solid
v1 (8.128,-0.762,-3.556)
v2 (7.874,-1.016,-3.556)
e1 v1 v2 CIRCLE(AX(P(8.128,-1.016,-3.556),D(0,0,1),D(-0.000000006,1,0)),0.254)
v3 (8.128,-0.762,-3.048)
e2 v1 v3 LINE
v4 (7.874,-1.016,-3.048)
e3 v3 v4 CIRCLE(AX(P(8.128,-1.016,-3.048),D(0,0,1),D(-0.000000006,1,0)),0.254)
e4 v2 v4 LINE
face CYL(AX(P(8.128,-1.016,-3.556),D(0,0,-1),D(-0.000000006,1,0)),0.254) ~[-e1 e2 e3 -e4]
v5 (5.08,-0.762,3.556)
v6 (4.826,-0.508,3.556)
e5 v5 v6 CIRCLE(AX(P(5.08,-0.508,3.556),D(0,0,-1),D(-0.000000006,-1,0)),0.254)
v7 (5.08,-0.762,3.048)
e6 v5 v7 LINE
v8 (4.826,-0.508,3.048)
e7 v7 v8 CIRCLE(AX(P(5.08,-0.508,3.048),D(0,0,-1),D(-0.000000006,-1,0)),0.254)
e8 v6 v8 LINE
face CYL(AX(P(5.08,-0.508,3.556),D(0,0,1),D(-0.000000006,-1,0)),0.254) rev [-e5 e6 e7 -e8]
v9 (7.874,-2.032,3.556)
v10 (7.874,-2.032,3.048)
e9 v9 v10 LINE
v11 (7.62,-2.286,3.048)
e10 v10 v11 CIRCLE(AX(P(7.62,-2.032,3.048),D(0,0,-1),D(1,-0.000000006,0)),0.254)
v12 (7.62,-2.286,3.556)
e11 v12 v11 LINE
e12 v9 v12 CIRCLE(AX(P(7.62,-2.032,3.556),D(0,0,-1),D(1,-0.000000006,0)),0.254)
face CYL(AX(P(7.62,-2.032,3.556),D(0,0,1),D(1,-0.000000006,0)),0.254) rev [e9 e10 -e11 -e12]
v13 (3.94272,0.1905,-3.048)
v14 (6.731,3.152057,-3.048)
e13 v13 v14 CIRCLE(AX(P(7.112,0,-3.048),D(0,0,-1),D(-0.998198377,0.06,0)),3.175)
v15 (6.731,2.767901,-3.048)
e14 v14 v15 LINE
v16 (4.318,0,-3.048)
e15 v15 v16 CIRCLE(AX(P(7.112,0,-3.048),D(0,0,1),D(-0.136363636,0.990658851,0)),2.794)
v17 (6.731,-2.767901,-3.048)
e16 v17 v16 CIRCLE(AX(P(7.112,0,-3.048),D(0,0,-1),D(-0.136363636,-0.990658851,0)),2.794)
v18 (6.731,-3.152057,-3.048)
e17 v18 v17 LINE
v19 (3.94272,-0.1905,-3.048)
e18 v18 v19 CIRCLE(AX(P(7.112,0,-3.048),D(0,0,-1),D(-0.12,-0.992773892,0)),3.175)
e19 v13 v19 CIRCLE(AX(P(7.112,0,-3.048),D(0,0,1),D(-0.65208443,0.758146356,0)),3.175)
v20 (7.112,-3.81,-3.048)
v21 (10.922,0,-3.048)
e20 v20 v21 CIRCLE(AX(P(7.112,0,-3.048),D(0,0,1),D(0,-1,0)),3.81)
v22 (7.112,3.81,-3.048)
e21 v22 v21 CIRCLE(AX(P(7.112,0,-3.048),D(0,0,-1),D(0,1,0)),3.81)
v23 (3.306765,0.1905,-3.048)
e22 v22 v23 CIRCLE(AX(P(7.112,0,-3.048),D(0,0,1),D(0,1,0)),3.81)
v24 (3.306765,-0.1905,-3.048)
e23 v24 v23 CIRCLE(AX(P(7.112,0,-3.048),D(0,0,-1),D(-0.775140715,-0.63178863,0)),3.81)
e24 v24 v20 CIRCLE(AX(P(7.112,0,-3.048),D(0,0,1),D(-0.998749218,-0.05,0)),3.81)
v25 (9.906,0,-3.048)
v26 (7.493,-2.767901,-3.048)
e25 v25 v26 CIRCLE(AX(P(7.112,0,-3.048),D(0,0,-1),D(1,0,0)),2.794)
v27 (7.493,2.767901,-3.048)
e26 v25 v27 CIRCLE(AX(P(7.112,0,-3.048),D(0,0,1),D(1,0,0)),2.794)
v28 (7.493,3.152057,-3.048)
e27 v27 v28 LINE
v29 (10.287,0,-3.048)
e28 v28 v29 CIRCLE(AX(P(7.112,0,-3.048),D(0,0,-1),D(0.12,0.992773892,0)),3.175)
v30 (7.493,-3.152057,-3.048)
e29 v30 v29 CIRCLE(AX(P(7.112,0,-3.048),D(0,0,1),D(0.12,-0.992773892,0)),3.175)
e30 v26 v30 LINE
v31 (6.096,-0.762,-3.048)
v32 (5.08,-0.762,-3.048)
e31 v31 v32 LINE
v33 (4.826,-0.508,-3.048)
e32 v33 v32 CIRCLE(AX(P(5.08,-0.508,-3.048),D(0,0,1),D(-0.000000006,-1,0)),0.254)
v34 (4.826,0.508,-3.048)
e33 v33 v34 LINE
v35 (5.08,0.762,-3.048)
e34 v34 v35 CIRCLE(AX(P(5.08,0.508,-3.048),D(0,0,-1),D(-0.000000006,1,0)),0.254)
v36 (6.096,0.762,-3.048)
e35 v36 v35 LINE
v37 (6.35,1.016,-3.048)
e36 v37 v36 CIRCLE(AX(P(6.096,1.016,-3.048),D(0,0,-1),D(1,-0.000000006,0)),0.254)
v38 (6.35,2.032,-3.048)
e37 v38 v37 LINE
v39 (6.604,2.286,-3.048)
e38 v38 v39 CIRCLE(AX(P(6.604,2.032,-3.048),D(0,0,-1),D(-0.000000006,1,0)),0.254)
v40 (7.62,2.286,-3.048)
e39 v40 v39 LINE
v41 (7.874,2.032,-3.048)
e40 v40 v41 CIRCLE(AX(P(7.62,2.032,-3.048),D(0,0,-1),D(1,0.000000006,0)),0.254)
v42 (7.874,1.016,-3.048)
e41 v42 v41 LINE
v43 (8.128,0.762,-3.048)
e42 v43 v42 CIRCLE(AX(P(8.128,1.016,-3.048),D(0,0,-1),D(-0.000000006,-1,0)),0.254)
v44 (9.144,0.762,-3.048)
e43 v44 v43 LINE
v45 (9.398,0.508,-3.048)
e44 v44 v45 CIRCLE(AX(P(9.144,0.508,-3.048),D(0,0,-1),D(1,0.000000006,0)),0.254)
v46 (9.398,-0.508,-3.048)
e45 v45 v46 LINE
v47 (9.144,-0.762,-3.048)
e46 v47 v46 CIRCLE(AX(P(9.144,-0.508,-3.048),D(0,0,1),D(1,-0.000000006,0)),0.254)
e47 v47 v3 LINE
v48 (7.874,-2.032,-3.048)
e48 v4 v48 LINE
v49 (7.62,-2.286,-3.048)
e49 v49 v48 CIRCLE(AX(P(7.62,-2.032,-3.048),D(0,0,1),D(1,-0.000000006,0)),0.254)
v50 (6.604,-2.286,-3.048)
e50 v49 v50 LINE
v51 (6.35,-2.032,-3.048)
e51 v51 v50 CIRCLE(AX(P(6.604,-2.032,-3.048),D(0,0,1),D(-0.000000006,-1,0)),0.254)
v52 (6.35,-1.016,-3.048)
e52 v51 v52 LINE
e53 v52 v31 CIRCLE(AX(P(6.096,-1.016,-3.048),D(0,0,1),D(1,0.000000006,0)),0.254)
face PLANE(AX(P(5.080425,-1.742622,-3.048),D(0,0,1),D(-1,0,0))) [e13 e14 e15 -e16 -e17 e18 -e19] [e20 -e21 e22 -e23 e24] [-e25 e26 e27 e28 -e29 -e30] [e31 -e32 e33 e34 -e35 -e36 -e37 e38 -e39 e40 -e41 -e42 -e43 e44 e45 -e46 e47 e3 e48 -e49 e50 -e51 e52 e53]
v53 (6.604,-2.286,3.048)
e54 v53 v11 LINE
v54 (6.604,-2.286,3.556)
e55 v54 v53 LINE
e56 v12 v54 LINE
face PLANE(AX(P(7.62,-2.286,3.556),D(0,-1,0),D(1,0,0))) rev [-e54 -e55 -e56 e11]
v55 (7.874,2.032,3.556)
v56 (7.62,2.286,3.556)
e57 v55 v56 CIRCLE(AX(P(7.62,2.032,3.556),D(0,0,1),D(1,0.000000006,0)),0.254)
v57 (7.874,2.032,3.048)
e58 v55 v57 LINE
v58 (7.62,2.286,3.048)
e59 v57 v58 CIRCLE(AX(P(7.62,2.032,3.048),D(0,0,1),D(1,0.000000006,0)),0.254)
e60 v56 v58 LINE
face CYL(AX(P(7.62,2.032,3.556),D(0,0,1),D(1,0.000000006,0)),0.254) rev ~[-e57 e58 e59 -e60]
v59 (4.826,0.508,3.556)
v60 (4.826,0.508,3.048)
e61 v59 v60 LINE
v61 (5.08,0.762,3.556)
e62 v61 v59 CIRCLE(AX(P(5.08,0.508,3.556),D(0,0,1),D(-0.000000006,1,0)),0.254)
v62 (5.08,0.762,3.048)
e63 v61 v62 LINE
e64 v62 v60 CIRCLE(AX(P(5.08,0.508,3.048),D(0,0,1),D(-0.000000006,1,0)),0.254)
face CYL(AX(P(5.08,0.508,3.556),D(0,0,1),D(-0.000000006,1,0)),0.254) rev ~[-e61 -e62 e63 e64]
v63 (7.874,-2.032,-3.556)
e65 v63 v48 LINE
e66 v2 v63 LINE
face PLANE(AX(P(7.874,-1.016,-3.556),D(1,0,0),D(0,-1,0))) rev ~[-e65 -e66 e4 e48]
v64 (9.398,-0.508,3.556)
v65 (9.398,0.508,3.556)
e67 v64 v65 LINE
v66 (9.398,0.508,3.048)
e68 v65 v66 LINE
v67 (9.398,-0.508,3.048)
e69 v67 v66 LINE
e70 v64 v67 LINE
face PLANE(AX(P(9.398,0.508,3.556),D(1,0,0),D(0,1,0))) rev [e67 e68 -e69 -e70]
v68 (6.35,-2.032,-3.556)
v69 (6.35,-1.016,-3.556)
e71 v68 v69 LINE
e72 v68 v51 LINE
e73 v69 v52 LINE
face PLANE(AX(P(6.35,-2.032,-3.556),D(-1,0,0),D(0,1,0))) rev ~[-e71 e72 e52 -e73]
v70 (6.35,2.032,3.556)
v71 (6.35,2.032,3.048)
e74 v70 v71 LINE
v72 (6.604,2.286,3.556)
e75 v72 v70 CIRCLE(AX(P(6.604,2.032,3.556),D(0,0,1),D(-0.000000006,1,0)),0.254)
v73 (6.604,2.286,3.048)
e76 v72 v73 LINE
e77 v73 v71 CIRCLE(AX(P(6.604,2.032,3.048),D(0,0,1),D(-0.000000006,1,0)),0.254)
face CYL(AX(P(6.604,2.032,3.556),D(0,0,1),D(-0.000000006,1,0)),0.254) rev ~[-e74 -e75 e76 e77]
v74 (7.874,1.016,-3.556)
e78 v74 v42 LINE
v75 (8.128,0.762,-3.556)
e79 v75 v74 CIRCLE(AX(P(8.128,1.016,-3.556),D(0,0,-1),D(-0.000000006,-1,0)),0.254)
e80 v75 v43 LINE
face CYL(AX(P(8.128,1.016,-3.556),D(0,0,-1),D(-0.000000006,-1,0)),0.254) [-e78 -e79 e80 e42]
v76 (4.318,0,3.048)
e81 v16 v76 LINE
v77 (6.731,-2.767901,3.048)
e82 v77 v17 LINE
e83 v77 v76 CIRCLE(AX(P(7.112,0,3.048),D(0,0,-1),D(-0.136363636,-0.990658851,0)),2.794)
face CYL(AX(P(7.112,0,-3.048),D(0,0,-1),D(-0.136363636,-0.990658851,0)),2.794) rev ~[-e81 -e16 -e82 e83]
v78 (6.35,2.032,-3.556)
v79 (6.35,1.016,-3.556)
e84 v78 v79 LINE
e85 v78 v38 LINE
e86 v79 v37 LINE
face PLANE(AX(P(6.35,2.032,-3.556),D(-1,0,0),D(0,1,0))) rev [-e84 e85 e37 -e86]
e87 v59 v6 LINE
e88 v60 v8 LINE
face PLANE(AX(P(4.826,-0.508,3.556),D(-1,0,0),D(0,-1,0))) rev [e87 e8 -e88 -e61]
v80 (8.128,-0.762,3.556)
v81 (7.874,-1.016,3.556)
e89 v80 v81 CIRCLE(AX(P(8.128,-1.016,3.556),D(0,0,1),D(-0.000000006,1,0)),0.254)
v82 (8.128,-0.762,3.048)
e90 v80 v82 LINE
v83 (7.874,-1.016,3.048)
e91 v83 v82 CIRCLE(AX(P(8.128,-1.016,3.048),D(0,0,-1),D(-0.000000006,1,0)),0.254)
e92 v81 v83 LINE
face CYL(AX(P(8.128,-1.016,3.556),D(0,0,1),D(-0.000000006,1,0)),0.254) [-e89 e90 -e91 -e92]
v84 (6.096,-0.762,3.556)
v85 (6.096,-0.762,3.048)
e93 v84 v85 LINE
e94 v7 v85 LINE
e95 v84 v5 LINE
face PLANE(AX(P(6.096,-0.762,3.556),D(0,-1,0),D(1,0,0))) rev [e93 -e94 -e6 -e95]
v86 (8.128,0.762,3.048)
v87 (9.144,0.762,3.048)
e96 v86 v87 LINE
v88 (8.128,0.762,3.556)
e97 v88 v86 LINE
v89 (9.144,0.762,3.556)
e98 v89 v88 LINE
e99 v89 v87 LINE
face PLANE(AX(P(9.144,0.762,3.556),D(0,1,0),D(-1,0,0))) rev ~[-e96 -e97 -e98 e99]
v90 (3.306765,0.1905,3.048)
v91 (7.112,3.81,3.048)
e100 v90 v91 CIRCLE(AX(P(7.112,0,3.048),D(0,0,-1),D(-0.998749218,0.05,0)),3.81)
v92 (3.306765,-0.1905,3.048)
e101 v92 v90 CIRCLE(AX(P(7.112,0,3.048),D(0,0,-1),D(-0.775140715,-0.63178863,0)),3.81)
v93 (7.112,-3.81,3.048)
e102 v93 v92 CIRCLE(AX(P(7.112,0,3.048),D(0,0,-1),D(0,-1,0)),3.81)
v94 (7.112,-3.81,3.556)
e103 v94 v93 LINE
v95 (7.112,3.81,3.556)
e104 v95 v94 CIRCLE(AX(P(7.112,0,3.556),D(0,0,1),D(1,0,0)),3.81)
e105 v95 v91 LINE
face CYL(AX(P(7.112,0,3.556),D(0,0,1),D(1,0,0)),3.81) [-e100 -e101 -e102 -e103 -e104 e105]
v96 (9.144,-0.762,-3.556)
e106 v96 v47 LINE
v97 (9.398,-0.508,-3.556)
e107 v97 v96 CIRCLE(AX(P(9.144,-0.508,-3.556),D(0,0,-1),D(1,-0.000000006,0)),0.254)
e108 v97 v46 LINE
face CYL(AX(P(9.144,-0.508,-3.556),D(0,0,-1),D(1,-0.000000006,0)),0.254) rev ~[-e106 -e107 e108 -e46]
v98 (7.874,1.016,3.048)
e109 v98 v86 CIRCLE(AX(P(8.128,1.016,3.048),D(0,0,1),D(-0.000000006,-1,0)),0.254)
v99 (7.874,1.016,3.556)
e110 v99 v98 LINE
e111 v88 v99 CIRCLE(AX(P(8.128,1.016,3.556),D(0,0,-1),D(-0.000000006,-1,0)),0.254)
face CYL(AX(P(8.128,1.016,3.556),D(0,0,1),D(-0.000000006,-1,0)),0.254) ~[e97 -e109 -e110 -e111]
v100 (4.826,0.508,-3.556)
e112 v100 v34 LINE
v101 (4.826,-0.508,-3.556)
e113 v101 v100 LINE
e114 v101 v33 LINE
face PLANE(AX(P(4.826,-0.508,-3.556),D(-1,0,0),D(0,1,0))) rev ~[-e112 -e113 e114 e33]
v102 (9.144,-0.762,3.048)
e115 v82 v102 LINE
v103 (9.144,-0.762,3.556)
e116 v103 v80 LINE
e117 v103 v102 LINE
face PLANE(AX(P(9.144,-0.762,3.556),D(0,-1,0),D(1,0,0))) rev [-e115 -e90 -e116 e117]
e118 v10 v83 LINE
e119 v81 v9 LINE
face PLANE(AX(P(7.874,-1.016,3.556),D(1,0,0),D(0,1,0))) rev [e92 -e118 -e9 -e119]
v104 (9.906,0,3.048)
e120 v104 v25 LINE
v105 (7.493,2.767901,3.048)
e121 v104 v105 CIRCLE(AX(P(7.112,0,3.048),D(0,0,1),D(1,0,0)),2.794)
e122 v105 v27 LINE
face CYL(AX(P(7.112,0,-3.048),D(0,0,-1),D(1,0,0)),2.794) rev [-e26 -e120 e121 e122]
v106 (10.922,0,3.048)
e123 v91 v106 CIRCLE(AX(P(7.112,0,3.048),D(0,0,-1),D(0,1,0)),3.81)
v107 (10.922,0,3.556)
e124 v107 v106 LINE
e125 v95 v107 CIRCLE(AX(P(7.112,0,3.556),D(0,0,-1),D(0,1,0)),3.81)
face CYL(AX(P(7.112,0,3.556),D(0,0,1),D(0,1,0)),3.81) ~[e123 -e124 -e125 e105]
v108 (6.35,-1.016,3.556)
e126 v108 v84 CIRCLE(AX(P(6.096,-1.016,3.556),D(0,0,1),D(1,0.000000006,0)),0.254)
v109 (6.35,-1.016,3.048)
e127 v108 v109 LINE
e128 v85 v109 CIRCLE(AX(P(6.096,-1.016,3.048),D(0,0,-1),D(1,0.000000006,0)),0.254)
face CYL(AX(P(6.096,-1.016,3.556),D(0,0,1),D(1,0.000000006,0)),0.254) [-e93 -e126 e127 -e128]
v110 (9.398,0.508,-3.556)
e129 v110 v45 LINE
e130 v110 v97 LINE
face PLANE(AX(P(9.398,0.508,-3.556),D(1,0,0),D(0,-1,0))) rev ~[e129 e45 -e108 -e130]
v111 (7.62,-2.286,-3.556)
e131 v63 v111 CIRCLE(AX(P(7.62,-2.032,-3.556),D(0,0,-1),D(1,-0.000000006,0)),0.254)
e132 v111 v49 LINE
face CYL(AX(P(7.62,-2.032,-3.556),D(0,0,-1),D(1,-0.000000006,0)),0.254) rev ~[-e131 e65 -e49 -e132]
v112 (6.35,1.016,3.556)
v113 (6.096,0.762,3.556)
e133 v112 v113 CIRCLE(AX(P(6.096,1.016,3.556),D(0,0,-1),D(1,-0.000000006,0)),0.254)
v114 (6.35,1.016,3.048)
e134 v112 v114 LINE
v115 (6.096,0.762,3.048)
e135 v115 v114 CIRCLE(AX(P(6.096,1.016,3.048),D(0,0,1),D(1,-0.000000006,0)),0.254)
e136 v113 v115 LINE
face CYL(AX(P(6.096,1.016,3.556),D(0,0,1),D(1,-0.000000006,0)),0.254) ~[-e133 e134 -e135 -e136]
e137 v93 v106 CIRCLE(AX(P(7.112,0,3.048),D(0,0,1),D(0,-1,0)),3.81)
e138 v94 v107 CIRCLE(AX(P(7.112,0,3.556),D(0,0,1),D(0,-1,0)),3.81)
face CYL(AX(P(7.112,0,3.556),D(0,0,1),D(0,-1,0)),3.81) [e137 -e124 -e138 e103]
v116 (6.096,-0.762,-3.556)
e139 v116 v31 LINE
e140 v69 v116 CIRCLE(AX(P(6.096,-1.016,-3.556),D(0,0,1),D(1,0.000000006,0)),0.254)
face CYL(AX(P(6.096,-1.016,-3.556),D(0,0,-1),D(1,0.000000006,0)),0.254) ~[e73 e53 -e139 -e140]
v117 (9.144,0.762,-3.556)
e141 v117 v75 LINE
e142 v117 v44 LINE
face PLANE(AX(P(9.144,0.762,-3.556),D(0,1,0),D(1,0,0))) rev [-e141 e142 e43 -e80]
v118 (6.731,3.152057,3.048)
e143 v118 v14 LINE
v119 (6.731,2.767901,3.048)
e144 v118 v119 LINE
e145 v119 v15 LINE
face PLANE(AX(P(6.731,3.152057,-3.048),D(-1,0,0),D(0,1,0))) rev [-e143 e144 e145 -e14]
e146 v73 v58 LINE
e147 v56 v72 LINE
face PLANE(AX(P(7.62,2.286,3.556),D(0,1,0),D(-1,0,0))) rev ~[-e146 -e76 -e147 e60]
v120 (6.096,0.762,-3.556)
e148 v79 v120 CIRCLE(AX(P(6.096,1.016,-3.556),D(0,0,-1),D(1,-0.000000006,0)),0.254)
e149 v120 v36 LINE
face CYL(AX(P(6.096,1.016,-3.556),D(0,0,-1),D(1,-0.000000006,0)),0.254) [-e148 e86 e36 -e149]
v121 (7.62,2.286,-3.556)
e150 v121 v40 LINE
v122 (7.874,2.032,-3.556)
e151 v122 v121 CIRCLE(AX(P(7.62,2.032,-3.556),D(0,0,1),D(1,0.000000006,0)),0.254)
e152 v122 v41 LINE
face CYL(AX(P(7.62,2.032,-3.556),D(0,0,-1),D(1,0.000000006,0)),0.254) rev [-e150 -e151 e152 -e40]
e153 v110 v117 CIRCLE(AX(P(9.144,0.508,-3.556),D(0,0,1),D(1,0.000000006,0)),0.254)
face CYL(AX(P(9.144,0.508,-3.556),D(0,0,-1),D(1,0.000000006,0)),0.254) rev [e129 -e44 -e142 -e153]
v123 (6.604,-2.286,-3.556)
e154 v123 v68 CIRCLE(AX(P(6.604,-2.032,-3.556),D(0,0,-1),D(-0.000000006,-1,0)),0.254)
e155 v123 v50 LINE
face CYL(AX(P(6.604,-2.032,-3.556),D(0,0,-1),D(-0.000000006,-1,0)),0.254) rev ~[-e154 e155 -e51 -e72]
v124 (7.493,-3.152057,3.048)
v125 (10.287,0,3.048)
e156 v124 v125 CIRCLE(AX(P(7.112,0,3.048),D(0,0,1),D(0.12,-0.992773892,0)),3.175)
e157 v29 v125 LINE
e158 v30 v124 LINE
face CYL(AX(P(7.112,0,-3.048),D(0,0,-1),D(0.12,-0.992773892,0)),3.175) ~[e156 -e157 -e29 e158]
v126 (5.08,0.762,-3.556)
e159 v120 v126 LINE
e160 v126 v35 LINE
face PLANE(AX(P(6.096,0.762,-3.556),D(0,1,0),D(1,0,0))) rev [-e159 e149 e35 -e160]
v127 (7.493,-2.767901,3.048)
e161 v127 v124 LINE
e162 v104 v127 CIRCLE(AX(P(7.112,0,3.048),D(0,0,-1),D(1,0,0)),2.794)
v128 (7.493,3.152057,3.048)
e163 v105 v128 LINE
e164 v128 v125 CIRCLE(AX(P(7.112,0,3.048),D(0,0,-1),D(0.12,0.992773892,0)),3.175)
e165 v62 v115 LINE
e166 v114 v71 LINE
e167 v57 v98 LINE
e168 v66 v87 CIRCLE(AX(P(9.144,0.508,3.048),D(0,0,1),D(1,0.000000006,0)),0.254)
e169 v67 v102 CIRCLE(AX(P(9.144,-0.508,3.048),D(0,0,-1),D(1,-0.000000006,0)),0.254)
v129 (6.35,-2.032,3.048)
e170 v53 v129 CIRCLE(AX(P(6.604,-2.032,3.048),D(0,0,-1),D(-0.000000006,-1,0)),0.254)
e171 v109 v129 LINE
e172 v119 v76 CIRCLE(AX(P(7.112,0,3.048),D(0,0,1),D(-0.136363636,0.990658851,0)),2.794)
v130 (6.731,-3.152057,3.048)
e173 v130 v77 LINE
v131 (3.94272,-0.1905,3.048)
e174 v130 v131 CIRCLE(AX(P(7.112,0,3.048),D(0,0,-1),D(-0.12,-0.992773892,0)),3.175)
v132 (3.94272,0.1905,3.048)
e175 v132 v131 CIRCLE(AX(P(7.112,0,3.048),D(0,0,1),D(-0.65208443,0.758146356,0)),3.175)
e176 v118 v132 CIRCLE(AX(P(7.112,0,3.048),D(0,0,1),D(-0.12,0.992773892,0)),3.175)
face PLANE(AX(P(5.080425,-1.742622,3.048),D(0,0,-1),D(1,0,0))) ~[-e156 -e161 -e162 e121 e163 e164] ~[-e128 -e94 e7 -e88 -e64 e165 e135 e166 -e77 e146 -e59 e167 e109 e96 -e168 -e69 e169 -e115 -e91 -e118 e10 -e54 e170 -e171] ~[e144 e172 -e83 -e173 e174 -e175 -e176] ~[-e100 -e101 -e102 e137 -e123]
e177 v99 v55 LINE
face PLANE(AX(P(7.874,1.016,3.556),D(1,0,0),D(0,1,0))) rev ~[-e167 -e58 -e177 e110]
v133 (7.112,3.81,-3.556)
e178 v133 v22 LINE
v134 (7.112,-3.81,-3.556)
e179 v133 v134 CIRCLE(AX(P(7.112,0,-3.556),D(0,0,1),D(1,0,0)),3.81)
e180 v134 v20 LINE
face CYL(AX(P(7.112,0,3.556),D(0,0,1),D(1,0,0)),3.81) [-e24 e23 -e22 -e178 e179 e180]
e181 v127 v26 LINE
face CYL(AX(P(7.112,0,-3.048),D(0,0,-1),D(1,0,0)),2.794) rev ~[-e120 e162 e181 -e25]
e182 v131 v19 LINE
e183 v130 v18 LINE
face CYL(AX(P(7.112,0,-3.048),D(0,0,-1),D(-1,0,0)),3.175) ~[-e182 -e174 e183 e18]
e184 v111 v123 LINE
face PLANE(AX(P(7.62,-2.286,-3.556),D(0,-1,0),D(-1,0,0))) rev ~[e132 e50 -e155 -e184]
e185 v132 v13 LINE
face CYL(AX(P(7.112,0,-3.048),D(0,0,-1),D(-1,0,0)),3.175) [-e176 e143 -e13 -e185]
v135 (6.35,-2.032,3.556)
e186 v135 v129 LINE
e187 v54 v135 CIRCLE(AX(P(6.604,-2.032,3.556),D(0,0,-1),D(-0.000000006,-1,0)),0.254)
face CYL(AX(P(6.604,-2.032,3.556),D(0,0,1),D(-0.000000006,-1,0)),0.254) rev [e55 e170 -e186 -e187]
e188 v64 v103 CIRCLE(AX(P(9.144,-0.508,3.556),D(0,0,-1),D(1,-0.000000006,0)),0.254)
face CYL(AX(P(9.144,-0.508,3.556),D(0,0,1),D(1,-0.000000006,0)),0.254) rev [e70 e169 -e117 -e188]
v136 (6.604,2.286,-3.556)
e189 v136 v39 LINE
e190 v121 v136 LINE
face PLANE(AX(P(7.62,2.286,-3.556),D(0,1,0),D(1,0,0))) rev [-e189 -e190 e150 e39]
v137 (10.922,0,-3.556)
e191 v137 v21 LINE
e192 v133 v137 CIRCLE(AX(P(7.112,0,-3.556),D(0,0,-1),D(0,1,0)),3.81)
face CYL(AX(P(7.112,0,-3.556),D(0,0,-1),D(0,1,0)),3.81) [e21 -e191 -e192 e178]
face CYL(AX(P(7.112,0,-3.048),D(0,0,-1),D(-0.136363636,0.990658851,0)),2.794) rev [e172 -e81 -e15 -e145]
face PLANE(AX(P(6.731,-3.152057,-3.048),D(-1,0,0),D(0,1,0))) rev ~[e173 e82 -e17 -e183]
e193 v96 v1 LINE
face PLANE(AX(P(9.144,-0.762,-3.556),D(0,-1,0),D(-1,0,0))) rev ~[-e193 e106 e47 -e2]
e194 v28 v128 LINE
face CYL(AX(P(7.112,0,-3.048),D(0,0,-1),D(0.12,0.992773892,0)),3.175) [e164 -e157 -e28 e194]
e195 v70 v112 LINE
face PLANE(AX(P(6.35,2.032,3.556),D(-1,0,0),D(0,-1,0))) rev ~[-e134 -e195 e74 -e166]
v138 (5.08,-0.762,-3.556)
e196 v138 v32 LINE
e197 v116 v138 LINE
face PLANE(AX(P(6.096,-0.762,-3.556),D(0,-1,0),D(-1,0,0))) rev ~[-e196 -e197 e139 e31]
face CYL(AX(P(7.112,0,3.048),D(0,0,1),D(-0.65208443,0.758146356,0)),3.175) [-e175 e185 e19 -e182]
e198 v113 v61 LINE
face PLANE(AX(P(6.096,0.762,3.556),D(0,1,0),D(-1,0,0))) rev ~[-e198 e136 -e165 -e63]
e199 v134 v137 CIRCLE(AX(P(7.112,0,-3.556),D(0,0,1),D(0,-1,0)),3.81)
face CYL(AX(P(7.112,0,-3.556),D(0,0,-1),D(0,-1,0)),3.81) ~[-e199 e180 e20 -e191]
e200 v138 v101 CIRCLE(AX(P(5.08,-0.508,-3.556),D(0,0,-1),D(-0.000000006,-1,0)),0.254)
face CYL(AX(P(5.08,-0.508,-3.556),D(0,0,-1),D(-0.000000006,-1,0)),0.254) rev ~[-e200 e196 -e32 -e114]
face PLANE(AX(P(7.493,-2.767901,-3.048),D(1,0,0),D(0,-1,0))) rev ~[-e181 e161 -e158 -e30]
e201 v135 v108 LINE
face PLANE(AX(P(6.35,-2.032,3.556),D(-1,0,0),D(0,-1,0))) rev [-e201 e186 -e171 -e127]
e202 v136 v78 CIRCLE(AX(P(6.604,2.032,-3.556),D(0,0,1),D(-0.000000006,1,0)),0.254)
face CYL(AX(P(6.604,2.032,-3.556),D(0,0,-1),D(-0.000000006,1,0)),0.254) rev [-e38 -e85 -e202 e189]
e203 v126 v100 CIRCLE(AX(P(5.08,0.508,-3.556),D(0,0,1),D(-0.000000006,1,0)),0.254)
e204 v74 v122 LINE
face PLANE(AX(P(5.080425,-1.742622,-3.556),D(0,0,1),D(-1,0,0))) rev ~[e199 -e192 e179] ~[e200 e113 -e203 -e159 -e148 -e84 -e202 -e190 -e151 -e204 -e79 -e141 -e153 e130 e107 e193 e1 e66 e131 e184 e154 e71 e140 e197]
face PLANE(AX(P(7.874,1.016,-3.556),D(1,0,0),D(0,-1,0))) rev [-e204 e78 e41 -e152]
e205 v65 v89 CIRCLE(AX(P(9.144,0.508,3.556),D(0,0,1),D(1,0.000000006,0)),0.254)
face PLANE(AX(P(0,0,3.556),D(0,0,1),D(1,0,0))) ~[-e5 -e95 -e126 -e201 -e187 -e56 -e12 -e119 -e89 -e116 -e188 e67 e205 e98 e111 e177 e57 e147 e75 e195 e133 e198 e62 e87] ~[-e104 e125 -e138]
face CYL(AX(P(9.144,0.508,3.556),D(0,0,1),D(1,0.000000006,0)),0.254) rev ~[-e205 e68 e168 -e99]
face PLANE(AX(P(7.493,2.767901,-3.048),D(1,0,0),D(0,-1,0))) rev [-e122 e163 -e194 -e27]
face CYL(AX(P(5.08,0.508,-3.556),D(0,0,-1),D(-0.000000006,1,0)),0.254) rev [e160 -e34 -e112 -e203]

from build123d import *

# Parameters (mm, degrees)
EXTRUDE1_DEPTH     = 3.81
EXTRUDE2_DEPTH     = 0.508
CUT_EXTRUDE2_DEPTH = 15.094711526
EXTRUDE3_DEPTH     = 3.048
EXTRUDE4_REACH     = 14.678
SKETCH9_W          = 3.045663376
SKETCH9_H          = 0.1905
SKETCH11_R         = 2.286
CUT_EXTRUDE3_DEPTH = 13.677755519
SKETCH12_R         = 3.175
CUT_EXTRUDE4_DEPTH = 0.508
SKETCH13_OUTSIDE_W = 29.435
SKETCH13_OUTSIDE_H = 14.576
SKETCH13_OUTSIDE_R = 3.81
CUT_EXTRUDE5_DEPTH = 15.094711526
CUT_EXTRUDE7_START = 6.096
CUT_EXTRUDE7_DEPTH = 6.096


with BuildPart() as part:
    # Sketch1 → Extrude1 (new body)
    with BuildSketch(Plane(origin=(0, 0, 0), x_dir=(1, 0, 0), z_dir=(0, 1, 0))):
        with BuildLine():
            Line((-8.001, 3.556), (0, 3.556))
            ThreePointArc((0, 3.556), (3.556, 0), (0, -3.556))
            Line((0, -3.556), (-8.001, -3.556))
            ThreePointArc((-8.001, -3.556), (-11.557, 0), (-8.001, 3.556))
        make_face()
    extrude(amount=EXTRUDE1_DEPTH)

    # Sketch4 → Extrude2 (add)
    with BuildSketch(Plane.XY.offset(3.556)):
        with BuildLine():
            Line((0, 0), (0, 3.81))
            Line((0, 3.81), (7.112, 3.81))
            ThreePointArc((7.112, 3.81), (9.806076836, 2.694076836), (10.922, 0))
            Line((10.922, 0), (7.112, 0))
            Line((7.112, 0), (0, 0))
        make_face()
    extrude2 = extrude(amount=-EXTRUDE2_DEPTH)

    # Sketch6 → Cut-Extrude2 (cut, through all)
    with BuildSketch(Plane.XY.offset(3.556)):
        with BuildLine():
            Line((6.35, 2.032), (6.35, 1.016))
            ThreePointArc((6.35, 1.016), (6.275605122, 0.836394878), (6.096, 0.762))
            Line((6.096, 0.762), (5.08, 0.762))
            ThreePointArc((5.08, 0.762), (4.900394878, 0.687605122), (4.826, 0.508))
            Line((4.826, 0.508), (4.826, -0.508))
            ThreePointArc((4.826, -0.508), (4.900394878, -0.687605122), (5.08, -0.762))
            Line((5.08, -0.762), (6.096, -0.762))
            ThreePointArc((6.096, -0.762), (6.275605122, -0.836394878), (6.35, -1.016))
            Line((6.35, -1.016), (6.35, -2.032))
            ThreePointArc((6.35, -2.032), (6.424394878, -2.211605122), (6.604, -2.286))
            Line((6.604, -2.286), (7.62, -2.286))
            ThreePointArc((7.62, -2.286), (7.799605122, -2.211605122), (7.874, -2.032))
            Line((7.874, -2.032), (7.874, -1.016))
            ThreePointArc((7.874, -1.016), (7.948394878, -0.836394878), (8.128, -0.762))
            Line((8.128, -0.762), (9.144, -0.762))
            ThreePointArc((9.144, -0.762), (9.323605122, -0.687605122), (9.398, -0.508))
            Line((9.398, -0.508), (9.398, 0.508))
            ThreePointArc((9.398, 0.508), (9.323605122, 0.687605122), (9.144, 0.762))
            Line((9.144, 0.762), (8.128, 0.762))
            ThreePointArc((8.128, 0.762), (7.948394878, 0.836394878), (7.874, 1.016))
            Line((7.874, 1.016), (7.874, 2.032))
            ThreePointArc((7.874, 2.032), (7.799605122, 2.211605122), (7.62, 2.286))
            Line((7.62, 2.286), (6.604, 2.286))
            ThreePointArc((6.604, 2.286), (6.424394878, 2.211605122), (6.35, 2.032))
        make_face()
    cut_extrude2 = extrude(amount=-CUT_EXTRUDE2_DEPTH, mode=Mode.SUBTRACT)

    # Sketch8 → Extrude3 (add)
    with BuildSketch(Plane(origin=(0, 0, 3.048), x_dir=(-1, 0, 0), z_dir=(0, 0, -1))):
        with BuildLine():
            Line((-10.287, 0), (-9.906, 0))
            ThreePointArc((-9.906, 0), (-9.218056742, 1.836017701), (-7.493, 2.767900829))
            Line((-7.493, 2.767900829), (-7.493, 3.152057106))
            ThreePointArc((-7.493, 3.152057106), (-9.487952441, 2.106056742), (-10.287, 0))
        make_face()
        with BuildLine():
            Line((-4.318, 0), (-3.937, 0))
            ThreePointArc((-3.937, 0), (-4.736047559, 2.106056742), (-6.731, 3.152057106))
            Line((-6.731, 3.152057106), (-6.731, 2.767900829))
            ThreePointArc((-6.731, 2.767900829), (-5.005943258, 1.836017701), (-4.318, 0))
        make_face()
    extrude3 = extrude(amount=EXTRUDE3_DEPTH)

    # Sketch9 → Extrude4 (add, up to next)
    with BuildSketch(Plane(origin=(0, 0, 0), x_dir=(-1, 0, 0), z_dir=(0, 0, -1)), mode=Mode.PRIVATE) as extrude4_sk1:
        with Locations((-2.604668312, 0.09525)):
            Rectangle(SKETCH9_W, SKETCH9_H)
    extrude4_tool1 = extrude(extrude4_sk1.sketch, amount=-EXTRUDE4_REACH, mode=Mode.PRIVATE) - part.part
    extrude4 = extrude4_tool1.solids().sort_by_distance((2.604668, 0.09525, 0))[0]
    add(extrude4)

    # Mirror5: Extrude2, Cut-Extrude2, Extrude3, Extrude4 across plane
    add(extrude2.mirror(Plane(origin=(7.112, 0, 0), x_dir=(1, 0, 0), z_dir=(0, 0, -1))))
    add(cut_extrude2.mirror(Plane(origin=(7.112, 0, 0), x_dir=(1, 0, 0), z_dir=(0, 0, -1))), mode=Mode.SUBTRACT)
    add(extrude3.mirror(Plane(origin=(7.112, 0, 0), x_dir=(1, 0, 0), z_dir=(0, 0, -1))))
    add(extrude4.mirror(Plane(origin=(7.112, 0, 0), x_dir=(1, 0, 0), z_dir=(0, 0, -1))))

    # Sketch11 → Cut-Extrude3 (cut, through all)
    with BuildSketch(Plane(origin=(0, 3.81, 0), x_dir=(1, 0, 0), z_dir=(0, 1, 0))):
        with Locations(Location((0, 0, 0), (0, 0, 270))):
            Circle(SKETCH11_R)
        with Locations(Location((-8.001, 0, 0), (0, 0, 270))):
            Circle(SKETCH11_R)
    extrude(amount=-CUT_EXTRUDE3_DEPTH, mode=Mode.SUBTRACT)

    # Sketch12 → Cut-Extrude4 (cut)
    with BuildSketch(Plane(origin=(0, 3.81, 0), x_dir=(1, 0, 0), z_dir=(0, 1, 0))):
        with Locations(Location((0, 0, 0), (0, 0, 270))):
            Circle(SKETCH12_R)
        with Locations(Location((-8.001, 0, 0), (0, 0, 270))):
            Circle(SKETCH12_R)
    extrude(amount=-CUT_EXTRUDE4_DEPTH, mode=Mode.SUBTRACT)

    # Mirror6: part across face


with BuildPart() as part_1:
    add(part.part)
    add(part.part.mirror(Plane(origin=(-2.880961452, 0, 0), x_dir=(0, 0, 1), z_dir=(0, -1, 0))))

    # Sketch13 outside → Cut-Extrude5 (cut, through all)
    with BuildSketch(Plane.XY.offset(3.556)):
        with Locations((-0.3175, 0)):
            Rectangle(SKETCH13_OUTSIDE_W, SKETCH13_OUTSIDE_H)
        with Locations((7.112, 0)):
            Circle(SKETCH13_OUTSIDE_R, mode=Mode.SUBTRACT)
    extrude(amount=-CUT_EXTRUDE5_DEPTH, mode=Mode.SUBTRACT)

    # Sketch15 → Cut-Extrude7 (cut)
    with BuildSketch(Plane.XY.offset(-3.048).offset(CUT_EXTRUDE7_START)):
        with BuildLine():
            Line((4.158713877, 2.407114678), (5.041631935, 2.407114678))
            ThreePointArc((5.041631935, 2.407114678), (3.937, 0), (5.041631935, -2.407114678))
            Line((5.041631935, -2.407114678), (4.158713877, -2.407114678))
            ThreePointArc((4.158713877, -2.407114678), (3.302, 0), (4.158713877, 2.407114678))
        make_face()
    extrude(amount=-CUT_EXTRUDE7_DEPTH, mode=Mode.SUBTRACT)


solid = part_1.part
